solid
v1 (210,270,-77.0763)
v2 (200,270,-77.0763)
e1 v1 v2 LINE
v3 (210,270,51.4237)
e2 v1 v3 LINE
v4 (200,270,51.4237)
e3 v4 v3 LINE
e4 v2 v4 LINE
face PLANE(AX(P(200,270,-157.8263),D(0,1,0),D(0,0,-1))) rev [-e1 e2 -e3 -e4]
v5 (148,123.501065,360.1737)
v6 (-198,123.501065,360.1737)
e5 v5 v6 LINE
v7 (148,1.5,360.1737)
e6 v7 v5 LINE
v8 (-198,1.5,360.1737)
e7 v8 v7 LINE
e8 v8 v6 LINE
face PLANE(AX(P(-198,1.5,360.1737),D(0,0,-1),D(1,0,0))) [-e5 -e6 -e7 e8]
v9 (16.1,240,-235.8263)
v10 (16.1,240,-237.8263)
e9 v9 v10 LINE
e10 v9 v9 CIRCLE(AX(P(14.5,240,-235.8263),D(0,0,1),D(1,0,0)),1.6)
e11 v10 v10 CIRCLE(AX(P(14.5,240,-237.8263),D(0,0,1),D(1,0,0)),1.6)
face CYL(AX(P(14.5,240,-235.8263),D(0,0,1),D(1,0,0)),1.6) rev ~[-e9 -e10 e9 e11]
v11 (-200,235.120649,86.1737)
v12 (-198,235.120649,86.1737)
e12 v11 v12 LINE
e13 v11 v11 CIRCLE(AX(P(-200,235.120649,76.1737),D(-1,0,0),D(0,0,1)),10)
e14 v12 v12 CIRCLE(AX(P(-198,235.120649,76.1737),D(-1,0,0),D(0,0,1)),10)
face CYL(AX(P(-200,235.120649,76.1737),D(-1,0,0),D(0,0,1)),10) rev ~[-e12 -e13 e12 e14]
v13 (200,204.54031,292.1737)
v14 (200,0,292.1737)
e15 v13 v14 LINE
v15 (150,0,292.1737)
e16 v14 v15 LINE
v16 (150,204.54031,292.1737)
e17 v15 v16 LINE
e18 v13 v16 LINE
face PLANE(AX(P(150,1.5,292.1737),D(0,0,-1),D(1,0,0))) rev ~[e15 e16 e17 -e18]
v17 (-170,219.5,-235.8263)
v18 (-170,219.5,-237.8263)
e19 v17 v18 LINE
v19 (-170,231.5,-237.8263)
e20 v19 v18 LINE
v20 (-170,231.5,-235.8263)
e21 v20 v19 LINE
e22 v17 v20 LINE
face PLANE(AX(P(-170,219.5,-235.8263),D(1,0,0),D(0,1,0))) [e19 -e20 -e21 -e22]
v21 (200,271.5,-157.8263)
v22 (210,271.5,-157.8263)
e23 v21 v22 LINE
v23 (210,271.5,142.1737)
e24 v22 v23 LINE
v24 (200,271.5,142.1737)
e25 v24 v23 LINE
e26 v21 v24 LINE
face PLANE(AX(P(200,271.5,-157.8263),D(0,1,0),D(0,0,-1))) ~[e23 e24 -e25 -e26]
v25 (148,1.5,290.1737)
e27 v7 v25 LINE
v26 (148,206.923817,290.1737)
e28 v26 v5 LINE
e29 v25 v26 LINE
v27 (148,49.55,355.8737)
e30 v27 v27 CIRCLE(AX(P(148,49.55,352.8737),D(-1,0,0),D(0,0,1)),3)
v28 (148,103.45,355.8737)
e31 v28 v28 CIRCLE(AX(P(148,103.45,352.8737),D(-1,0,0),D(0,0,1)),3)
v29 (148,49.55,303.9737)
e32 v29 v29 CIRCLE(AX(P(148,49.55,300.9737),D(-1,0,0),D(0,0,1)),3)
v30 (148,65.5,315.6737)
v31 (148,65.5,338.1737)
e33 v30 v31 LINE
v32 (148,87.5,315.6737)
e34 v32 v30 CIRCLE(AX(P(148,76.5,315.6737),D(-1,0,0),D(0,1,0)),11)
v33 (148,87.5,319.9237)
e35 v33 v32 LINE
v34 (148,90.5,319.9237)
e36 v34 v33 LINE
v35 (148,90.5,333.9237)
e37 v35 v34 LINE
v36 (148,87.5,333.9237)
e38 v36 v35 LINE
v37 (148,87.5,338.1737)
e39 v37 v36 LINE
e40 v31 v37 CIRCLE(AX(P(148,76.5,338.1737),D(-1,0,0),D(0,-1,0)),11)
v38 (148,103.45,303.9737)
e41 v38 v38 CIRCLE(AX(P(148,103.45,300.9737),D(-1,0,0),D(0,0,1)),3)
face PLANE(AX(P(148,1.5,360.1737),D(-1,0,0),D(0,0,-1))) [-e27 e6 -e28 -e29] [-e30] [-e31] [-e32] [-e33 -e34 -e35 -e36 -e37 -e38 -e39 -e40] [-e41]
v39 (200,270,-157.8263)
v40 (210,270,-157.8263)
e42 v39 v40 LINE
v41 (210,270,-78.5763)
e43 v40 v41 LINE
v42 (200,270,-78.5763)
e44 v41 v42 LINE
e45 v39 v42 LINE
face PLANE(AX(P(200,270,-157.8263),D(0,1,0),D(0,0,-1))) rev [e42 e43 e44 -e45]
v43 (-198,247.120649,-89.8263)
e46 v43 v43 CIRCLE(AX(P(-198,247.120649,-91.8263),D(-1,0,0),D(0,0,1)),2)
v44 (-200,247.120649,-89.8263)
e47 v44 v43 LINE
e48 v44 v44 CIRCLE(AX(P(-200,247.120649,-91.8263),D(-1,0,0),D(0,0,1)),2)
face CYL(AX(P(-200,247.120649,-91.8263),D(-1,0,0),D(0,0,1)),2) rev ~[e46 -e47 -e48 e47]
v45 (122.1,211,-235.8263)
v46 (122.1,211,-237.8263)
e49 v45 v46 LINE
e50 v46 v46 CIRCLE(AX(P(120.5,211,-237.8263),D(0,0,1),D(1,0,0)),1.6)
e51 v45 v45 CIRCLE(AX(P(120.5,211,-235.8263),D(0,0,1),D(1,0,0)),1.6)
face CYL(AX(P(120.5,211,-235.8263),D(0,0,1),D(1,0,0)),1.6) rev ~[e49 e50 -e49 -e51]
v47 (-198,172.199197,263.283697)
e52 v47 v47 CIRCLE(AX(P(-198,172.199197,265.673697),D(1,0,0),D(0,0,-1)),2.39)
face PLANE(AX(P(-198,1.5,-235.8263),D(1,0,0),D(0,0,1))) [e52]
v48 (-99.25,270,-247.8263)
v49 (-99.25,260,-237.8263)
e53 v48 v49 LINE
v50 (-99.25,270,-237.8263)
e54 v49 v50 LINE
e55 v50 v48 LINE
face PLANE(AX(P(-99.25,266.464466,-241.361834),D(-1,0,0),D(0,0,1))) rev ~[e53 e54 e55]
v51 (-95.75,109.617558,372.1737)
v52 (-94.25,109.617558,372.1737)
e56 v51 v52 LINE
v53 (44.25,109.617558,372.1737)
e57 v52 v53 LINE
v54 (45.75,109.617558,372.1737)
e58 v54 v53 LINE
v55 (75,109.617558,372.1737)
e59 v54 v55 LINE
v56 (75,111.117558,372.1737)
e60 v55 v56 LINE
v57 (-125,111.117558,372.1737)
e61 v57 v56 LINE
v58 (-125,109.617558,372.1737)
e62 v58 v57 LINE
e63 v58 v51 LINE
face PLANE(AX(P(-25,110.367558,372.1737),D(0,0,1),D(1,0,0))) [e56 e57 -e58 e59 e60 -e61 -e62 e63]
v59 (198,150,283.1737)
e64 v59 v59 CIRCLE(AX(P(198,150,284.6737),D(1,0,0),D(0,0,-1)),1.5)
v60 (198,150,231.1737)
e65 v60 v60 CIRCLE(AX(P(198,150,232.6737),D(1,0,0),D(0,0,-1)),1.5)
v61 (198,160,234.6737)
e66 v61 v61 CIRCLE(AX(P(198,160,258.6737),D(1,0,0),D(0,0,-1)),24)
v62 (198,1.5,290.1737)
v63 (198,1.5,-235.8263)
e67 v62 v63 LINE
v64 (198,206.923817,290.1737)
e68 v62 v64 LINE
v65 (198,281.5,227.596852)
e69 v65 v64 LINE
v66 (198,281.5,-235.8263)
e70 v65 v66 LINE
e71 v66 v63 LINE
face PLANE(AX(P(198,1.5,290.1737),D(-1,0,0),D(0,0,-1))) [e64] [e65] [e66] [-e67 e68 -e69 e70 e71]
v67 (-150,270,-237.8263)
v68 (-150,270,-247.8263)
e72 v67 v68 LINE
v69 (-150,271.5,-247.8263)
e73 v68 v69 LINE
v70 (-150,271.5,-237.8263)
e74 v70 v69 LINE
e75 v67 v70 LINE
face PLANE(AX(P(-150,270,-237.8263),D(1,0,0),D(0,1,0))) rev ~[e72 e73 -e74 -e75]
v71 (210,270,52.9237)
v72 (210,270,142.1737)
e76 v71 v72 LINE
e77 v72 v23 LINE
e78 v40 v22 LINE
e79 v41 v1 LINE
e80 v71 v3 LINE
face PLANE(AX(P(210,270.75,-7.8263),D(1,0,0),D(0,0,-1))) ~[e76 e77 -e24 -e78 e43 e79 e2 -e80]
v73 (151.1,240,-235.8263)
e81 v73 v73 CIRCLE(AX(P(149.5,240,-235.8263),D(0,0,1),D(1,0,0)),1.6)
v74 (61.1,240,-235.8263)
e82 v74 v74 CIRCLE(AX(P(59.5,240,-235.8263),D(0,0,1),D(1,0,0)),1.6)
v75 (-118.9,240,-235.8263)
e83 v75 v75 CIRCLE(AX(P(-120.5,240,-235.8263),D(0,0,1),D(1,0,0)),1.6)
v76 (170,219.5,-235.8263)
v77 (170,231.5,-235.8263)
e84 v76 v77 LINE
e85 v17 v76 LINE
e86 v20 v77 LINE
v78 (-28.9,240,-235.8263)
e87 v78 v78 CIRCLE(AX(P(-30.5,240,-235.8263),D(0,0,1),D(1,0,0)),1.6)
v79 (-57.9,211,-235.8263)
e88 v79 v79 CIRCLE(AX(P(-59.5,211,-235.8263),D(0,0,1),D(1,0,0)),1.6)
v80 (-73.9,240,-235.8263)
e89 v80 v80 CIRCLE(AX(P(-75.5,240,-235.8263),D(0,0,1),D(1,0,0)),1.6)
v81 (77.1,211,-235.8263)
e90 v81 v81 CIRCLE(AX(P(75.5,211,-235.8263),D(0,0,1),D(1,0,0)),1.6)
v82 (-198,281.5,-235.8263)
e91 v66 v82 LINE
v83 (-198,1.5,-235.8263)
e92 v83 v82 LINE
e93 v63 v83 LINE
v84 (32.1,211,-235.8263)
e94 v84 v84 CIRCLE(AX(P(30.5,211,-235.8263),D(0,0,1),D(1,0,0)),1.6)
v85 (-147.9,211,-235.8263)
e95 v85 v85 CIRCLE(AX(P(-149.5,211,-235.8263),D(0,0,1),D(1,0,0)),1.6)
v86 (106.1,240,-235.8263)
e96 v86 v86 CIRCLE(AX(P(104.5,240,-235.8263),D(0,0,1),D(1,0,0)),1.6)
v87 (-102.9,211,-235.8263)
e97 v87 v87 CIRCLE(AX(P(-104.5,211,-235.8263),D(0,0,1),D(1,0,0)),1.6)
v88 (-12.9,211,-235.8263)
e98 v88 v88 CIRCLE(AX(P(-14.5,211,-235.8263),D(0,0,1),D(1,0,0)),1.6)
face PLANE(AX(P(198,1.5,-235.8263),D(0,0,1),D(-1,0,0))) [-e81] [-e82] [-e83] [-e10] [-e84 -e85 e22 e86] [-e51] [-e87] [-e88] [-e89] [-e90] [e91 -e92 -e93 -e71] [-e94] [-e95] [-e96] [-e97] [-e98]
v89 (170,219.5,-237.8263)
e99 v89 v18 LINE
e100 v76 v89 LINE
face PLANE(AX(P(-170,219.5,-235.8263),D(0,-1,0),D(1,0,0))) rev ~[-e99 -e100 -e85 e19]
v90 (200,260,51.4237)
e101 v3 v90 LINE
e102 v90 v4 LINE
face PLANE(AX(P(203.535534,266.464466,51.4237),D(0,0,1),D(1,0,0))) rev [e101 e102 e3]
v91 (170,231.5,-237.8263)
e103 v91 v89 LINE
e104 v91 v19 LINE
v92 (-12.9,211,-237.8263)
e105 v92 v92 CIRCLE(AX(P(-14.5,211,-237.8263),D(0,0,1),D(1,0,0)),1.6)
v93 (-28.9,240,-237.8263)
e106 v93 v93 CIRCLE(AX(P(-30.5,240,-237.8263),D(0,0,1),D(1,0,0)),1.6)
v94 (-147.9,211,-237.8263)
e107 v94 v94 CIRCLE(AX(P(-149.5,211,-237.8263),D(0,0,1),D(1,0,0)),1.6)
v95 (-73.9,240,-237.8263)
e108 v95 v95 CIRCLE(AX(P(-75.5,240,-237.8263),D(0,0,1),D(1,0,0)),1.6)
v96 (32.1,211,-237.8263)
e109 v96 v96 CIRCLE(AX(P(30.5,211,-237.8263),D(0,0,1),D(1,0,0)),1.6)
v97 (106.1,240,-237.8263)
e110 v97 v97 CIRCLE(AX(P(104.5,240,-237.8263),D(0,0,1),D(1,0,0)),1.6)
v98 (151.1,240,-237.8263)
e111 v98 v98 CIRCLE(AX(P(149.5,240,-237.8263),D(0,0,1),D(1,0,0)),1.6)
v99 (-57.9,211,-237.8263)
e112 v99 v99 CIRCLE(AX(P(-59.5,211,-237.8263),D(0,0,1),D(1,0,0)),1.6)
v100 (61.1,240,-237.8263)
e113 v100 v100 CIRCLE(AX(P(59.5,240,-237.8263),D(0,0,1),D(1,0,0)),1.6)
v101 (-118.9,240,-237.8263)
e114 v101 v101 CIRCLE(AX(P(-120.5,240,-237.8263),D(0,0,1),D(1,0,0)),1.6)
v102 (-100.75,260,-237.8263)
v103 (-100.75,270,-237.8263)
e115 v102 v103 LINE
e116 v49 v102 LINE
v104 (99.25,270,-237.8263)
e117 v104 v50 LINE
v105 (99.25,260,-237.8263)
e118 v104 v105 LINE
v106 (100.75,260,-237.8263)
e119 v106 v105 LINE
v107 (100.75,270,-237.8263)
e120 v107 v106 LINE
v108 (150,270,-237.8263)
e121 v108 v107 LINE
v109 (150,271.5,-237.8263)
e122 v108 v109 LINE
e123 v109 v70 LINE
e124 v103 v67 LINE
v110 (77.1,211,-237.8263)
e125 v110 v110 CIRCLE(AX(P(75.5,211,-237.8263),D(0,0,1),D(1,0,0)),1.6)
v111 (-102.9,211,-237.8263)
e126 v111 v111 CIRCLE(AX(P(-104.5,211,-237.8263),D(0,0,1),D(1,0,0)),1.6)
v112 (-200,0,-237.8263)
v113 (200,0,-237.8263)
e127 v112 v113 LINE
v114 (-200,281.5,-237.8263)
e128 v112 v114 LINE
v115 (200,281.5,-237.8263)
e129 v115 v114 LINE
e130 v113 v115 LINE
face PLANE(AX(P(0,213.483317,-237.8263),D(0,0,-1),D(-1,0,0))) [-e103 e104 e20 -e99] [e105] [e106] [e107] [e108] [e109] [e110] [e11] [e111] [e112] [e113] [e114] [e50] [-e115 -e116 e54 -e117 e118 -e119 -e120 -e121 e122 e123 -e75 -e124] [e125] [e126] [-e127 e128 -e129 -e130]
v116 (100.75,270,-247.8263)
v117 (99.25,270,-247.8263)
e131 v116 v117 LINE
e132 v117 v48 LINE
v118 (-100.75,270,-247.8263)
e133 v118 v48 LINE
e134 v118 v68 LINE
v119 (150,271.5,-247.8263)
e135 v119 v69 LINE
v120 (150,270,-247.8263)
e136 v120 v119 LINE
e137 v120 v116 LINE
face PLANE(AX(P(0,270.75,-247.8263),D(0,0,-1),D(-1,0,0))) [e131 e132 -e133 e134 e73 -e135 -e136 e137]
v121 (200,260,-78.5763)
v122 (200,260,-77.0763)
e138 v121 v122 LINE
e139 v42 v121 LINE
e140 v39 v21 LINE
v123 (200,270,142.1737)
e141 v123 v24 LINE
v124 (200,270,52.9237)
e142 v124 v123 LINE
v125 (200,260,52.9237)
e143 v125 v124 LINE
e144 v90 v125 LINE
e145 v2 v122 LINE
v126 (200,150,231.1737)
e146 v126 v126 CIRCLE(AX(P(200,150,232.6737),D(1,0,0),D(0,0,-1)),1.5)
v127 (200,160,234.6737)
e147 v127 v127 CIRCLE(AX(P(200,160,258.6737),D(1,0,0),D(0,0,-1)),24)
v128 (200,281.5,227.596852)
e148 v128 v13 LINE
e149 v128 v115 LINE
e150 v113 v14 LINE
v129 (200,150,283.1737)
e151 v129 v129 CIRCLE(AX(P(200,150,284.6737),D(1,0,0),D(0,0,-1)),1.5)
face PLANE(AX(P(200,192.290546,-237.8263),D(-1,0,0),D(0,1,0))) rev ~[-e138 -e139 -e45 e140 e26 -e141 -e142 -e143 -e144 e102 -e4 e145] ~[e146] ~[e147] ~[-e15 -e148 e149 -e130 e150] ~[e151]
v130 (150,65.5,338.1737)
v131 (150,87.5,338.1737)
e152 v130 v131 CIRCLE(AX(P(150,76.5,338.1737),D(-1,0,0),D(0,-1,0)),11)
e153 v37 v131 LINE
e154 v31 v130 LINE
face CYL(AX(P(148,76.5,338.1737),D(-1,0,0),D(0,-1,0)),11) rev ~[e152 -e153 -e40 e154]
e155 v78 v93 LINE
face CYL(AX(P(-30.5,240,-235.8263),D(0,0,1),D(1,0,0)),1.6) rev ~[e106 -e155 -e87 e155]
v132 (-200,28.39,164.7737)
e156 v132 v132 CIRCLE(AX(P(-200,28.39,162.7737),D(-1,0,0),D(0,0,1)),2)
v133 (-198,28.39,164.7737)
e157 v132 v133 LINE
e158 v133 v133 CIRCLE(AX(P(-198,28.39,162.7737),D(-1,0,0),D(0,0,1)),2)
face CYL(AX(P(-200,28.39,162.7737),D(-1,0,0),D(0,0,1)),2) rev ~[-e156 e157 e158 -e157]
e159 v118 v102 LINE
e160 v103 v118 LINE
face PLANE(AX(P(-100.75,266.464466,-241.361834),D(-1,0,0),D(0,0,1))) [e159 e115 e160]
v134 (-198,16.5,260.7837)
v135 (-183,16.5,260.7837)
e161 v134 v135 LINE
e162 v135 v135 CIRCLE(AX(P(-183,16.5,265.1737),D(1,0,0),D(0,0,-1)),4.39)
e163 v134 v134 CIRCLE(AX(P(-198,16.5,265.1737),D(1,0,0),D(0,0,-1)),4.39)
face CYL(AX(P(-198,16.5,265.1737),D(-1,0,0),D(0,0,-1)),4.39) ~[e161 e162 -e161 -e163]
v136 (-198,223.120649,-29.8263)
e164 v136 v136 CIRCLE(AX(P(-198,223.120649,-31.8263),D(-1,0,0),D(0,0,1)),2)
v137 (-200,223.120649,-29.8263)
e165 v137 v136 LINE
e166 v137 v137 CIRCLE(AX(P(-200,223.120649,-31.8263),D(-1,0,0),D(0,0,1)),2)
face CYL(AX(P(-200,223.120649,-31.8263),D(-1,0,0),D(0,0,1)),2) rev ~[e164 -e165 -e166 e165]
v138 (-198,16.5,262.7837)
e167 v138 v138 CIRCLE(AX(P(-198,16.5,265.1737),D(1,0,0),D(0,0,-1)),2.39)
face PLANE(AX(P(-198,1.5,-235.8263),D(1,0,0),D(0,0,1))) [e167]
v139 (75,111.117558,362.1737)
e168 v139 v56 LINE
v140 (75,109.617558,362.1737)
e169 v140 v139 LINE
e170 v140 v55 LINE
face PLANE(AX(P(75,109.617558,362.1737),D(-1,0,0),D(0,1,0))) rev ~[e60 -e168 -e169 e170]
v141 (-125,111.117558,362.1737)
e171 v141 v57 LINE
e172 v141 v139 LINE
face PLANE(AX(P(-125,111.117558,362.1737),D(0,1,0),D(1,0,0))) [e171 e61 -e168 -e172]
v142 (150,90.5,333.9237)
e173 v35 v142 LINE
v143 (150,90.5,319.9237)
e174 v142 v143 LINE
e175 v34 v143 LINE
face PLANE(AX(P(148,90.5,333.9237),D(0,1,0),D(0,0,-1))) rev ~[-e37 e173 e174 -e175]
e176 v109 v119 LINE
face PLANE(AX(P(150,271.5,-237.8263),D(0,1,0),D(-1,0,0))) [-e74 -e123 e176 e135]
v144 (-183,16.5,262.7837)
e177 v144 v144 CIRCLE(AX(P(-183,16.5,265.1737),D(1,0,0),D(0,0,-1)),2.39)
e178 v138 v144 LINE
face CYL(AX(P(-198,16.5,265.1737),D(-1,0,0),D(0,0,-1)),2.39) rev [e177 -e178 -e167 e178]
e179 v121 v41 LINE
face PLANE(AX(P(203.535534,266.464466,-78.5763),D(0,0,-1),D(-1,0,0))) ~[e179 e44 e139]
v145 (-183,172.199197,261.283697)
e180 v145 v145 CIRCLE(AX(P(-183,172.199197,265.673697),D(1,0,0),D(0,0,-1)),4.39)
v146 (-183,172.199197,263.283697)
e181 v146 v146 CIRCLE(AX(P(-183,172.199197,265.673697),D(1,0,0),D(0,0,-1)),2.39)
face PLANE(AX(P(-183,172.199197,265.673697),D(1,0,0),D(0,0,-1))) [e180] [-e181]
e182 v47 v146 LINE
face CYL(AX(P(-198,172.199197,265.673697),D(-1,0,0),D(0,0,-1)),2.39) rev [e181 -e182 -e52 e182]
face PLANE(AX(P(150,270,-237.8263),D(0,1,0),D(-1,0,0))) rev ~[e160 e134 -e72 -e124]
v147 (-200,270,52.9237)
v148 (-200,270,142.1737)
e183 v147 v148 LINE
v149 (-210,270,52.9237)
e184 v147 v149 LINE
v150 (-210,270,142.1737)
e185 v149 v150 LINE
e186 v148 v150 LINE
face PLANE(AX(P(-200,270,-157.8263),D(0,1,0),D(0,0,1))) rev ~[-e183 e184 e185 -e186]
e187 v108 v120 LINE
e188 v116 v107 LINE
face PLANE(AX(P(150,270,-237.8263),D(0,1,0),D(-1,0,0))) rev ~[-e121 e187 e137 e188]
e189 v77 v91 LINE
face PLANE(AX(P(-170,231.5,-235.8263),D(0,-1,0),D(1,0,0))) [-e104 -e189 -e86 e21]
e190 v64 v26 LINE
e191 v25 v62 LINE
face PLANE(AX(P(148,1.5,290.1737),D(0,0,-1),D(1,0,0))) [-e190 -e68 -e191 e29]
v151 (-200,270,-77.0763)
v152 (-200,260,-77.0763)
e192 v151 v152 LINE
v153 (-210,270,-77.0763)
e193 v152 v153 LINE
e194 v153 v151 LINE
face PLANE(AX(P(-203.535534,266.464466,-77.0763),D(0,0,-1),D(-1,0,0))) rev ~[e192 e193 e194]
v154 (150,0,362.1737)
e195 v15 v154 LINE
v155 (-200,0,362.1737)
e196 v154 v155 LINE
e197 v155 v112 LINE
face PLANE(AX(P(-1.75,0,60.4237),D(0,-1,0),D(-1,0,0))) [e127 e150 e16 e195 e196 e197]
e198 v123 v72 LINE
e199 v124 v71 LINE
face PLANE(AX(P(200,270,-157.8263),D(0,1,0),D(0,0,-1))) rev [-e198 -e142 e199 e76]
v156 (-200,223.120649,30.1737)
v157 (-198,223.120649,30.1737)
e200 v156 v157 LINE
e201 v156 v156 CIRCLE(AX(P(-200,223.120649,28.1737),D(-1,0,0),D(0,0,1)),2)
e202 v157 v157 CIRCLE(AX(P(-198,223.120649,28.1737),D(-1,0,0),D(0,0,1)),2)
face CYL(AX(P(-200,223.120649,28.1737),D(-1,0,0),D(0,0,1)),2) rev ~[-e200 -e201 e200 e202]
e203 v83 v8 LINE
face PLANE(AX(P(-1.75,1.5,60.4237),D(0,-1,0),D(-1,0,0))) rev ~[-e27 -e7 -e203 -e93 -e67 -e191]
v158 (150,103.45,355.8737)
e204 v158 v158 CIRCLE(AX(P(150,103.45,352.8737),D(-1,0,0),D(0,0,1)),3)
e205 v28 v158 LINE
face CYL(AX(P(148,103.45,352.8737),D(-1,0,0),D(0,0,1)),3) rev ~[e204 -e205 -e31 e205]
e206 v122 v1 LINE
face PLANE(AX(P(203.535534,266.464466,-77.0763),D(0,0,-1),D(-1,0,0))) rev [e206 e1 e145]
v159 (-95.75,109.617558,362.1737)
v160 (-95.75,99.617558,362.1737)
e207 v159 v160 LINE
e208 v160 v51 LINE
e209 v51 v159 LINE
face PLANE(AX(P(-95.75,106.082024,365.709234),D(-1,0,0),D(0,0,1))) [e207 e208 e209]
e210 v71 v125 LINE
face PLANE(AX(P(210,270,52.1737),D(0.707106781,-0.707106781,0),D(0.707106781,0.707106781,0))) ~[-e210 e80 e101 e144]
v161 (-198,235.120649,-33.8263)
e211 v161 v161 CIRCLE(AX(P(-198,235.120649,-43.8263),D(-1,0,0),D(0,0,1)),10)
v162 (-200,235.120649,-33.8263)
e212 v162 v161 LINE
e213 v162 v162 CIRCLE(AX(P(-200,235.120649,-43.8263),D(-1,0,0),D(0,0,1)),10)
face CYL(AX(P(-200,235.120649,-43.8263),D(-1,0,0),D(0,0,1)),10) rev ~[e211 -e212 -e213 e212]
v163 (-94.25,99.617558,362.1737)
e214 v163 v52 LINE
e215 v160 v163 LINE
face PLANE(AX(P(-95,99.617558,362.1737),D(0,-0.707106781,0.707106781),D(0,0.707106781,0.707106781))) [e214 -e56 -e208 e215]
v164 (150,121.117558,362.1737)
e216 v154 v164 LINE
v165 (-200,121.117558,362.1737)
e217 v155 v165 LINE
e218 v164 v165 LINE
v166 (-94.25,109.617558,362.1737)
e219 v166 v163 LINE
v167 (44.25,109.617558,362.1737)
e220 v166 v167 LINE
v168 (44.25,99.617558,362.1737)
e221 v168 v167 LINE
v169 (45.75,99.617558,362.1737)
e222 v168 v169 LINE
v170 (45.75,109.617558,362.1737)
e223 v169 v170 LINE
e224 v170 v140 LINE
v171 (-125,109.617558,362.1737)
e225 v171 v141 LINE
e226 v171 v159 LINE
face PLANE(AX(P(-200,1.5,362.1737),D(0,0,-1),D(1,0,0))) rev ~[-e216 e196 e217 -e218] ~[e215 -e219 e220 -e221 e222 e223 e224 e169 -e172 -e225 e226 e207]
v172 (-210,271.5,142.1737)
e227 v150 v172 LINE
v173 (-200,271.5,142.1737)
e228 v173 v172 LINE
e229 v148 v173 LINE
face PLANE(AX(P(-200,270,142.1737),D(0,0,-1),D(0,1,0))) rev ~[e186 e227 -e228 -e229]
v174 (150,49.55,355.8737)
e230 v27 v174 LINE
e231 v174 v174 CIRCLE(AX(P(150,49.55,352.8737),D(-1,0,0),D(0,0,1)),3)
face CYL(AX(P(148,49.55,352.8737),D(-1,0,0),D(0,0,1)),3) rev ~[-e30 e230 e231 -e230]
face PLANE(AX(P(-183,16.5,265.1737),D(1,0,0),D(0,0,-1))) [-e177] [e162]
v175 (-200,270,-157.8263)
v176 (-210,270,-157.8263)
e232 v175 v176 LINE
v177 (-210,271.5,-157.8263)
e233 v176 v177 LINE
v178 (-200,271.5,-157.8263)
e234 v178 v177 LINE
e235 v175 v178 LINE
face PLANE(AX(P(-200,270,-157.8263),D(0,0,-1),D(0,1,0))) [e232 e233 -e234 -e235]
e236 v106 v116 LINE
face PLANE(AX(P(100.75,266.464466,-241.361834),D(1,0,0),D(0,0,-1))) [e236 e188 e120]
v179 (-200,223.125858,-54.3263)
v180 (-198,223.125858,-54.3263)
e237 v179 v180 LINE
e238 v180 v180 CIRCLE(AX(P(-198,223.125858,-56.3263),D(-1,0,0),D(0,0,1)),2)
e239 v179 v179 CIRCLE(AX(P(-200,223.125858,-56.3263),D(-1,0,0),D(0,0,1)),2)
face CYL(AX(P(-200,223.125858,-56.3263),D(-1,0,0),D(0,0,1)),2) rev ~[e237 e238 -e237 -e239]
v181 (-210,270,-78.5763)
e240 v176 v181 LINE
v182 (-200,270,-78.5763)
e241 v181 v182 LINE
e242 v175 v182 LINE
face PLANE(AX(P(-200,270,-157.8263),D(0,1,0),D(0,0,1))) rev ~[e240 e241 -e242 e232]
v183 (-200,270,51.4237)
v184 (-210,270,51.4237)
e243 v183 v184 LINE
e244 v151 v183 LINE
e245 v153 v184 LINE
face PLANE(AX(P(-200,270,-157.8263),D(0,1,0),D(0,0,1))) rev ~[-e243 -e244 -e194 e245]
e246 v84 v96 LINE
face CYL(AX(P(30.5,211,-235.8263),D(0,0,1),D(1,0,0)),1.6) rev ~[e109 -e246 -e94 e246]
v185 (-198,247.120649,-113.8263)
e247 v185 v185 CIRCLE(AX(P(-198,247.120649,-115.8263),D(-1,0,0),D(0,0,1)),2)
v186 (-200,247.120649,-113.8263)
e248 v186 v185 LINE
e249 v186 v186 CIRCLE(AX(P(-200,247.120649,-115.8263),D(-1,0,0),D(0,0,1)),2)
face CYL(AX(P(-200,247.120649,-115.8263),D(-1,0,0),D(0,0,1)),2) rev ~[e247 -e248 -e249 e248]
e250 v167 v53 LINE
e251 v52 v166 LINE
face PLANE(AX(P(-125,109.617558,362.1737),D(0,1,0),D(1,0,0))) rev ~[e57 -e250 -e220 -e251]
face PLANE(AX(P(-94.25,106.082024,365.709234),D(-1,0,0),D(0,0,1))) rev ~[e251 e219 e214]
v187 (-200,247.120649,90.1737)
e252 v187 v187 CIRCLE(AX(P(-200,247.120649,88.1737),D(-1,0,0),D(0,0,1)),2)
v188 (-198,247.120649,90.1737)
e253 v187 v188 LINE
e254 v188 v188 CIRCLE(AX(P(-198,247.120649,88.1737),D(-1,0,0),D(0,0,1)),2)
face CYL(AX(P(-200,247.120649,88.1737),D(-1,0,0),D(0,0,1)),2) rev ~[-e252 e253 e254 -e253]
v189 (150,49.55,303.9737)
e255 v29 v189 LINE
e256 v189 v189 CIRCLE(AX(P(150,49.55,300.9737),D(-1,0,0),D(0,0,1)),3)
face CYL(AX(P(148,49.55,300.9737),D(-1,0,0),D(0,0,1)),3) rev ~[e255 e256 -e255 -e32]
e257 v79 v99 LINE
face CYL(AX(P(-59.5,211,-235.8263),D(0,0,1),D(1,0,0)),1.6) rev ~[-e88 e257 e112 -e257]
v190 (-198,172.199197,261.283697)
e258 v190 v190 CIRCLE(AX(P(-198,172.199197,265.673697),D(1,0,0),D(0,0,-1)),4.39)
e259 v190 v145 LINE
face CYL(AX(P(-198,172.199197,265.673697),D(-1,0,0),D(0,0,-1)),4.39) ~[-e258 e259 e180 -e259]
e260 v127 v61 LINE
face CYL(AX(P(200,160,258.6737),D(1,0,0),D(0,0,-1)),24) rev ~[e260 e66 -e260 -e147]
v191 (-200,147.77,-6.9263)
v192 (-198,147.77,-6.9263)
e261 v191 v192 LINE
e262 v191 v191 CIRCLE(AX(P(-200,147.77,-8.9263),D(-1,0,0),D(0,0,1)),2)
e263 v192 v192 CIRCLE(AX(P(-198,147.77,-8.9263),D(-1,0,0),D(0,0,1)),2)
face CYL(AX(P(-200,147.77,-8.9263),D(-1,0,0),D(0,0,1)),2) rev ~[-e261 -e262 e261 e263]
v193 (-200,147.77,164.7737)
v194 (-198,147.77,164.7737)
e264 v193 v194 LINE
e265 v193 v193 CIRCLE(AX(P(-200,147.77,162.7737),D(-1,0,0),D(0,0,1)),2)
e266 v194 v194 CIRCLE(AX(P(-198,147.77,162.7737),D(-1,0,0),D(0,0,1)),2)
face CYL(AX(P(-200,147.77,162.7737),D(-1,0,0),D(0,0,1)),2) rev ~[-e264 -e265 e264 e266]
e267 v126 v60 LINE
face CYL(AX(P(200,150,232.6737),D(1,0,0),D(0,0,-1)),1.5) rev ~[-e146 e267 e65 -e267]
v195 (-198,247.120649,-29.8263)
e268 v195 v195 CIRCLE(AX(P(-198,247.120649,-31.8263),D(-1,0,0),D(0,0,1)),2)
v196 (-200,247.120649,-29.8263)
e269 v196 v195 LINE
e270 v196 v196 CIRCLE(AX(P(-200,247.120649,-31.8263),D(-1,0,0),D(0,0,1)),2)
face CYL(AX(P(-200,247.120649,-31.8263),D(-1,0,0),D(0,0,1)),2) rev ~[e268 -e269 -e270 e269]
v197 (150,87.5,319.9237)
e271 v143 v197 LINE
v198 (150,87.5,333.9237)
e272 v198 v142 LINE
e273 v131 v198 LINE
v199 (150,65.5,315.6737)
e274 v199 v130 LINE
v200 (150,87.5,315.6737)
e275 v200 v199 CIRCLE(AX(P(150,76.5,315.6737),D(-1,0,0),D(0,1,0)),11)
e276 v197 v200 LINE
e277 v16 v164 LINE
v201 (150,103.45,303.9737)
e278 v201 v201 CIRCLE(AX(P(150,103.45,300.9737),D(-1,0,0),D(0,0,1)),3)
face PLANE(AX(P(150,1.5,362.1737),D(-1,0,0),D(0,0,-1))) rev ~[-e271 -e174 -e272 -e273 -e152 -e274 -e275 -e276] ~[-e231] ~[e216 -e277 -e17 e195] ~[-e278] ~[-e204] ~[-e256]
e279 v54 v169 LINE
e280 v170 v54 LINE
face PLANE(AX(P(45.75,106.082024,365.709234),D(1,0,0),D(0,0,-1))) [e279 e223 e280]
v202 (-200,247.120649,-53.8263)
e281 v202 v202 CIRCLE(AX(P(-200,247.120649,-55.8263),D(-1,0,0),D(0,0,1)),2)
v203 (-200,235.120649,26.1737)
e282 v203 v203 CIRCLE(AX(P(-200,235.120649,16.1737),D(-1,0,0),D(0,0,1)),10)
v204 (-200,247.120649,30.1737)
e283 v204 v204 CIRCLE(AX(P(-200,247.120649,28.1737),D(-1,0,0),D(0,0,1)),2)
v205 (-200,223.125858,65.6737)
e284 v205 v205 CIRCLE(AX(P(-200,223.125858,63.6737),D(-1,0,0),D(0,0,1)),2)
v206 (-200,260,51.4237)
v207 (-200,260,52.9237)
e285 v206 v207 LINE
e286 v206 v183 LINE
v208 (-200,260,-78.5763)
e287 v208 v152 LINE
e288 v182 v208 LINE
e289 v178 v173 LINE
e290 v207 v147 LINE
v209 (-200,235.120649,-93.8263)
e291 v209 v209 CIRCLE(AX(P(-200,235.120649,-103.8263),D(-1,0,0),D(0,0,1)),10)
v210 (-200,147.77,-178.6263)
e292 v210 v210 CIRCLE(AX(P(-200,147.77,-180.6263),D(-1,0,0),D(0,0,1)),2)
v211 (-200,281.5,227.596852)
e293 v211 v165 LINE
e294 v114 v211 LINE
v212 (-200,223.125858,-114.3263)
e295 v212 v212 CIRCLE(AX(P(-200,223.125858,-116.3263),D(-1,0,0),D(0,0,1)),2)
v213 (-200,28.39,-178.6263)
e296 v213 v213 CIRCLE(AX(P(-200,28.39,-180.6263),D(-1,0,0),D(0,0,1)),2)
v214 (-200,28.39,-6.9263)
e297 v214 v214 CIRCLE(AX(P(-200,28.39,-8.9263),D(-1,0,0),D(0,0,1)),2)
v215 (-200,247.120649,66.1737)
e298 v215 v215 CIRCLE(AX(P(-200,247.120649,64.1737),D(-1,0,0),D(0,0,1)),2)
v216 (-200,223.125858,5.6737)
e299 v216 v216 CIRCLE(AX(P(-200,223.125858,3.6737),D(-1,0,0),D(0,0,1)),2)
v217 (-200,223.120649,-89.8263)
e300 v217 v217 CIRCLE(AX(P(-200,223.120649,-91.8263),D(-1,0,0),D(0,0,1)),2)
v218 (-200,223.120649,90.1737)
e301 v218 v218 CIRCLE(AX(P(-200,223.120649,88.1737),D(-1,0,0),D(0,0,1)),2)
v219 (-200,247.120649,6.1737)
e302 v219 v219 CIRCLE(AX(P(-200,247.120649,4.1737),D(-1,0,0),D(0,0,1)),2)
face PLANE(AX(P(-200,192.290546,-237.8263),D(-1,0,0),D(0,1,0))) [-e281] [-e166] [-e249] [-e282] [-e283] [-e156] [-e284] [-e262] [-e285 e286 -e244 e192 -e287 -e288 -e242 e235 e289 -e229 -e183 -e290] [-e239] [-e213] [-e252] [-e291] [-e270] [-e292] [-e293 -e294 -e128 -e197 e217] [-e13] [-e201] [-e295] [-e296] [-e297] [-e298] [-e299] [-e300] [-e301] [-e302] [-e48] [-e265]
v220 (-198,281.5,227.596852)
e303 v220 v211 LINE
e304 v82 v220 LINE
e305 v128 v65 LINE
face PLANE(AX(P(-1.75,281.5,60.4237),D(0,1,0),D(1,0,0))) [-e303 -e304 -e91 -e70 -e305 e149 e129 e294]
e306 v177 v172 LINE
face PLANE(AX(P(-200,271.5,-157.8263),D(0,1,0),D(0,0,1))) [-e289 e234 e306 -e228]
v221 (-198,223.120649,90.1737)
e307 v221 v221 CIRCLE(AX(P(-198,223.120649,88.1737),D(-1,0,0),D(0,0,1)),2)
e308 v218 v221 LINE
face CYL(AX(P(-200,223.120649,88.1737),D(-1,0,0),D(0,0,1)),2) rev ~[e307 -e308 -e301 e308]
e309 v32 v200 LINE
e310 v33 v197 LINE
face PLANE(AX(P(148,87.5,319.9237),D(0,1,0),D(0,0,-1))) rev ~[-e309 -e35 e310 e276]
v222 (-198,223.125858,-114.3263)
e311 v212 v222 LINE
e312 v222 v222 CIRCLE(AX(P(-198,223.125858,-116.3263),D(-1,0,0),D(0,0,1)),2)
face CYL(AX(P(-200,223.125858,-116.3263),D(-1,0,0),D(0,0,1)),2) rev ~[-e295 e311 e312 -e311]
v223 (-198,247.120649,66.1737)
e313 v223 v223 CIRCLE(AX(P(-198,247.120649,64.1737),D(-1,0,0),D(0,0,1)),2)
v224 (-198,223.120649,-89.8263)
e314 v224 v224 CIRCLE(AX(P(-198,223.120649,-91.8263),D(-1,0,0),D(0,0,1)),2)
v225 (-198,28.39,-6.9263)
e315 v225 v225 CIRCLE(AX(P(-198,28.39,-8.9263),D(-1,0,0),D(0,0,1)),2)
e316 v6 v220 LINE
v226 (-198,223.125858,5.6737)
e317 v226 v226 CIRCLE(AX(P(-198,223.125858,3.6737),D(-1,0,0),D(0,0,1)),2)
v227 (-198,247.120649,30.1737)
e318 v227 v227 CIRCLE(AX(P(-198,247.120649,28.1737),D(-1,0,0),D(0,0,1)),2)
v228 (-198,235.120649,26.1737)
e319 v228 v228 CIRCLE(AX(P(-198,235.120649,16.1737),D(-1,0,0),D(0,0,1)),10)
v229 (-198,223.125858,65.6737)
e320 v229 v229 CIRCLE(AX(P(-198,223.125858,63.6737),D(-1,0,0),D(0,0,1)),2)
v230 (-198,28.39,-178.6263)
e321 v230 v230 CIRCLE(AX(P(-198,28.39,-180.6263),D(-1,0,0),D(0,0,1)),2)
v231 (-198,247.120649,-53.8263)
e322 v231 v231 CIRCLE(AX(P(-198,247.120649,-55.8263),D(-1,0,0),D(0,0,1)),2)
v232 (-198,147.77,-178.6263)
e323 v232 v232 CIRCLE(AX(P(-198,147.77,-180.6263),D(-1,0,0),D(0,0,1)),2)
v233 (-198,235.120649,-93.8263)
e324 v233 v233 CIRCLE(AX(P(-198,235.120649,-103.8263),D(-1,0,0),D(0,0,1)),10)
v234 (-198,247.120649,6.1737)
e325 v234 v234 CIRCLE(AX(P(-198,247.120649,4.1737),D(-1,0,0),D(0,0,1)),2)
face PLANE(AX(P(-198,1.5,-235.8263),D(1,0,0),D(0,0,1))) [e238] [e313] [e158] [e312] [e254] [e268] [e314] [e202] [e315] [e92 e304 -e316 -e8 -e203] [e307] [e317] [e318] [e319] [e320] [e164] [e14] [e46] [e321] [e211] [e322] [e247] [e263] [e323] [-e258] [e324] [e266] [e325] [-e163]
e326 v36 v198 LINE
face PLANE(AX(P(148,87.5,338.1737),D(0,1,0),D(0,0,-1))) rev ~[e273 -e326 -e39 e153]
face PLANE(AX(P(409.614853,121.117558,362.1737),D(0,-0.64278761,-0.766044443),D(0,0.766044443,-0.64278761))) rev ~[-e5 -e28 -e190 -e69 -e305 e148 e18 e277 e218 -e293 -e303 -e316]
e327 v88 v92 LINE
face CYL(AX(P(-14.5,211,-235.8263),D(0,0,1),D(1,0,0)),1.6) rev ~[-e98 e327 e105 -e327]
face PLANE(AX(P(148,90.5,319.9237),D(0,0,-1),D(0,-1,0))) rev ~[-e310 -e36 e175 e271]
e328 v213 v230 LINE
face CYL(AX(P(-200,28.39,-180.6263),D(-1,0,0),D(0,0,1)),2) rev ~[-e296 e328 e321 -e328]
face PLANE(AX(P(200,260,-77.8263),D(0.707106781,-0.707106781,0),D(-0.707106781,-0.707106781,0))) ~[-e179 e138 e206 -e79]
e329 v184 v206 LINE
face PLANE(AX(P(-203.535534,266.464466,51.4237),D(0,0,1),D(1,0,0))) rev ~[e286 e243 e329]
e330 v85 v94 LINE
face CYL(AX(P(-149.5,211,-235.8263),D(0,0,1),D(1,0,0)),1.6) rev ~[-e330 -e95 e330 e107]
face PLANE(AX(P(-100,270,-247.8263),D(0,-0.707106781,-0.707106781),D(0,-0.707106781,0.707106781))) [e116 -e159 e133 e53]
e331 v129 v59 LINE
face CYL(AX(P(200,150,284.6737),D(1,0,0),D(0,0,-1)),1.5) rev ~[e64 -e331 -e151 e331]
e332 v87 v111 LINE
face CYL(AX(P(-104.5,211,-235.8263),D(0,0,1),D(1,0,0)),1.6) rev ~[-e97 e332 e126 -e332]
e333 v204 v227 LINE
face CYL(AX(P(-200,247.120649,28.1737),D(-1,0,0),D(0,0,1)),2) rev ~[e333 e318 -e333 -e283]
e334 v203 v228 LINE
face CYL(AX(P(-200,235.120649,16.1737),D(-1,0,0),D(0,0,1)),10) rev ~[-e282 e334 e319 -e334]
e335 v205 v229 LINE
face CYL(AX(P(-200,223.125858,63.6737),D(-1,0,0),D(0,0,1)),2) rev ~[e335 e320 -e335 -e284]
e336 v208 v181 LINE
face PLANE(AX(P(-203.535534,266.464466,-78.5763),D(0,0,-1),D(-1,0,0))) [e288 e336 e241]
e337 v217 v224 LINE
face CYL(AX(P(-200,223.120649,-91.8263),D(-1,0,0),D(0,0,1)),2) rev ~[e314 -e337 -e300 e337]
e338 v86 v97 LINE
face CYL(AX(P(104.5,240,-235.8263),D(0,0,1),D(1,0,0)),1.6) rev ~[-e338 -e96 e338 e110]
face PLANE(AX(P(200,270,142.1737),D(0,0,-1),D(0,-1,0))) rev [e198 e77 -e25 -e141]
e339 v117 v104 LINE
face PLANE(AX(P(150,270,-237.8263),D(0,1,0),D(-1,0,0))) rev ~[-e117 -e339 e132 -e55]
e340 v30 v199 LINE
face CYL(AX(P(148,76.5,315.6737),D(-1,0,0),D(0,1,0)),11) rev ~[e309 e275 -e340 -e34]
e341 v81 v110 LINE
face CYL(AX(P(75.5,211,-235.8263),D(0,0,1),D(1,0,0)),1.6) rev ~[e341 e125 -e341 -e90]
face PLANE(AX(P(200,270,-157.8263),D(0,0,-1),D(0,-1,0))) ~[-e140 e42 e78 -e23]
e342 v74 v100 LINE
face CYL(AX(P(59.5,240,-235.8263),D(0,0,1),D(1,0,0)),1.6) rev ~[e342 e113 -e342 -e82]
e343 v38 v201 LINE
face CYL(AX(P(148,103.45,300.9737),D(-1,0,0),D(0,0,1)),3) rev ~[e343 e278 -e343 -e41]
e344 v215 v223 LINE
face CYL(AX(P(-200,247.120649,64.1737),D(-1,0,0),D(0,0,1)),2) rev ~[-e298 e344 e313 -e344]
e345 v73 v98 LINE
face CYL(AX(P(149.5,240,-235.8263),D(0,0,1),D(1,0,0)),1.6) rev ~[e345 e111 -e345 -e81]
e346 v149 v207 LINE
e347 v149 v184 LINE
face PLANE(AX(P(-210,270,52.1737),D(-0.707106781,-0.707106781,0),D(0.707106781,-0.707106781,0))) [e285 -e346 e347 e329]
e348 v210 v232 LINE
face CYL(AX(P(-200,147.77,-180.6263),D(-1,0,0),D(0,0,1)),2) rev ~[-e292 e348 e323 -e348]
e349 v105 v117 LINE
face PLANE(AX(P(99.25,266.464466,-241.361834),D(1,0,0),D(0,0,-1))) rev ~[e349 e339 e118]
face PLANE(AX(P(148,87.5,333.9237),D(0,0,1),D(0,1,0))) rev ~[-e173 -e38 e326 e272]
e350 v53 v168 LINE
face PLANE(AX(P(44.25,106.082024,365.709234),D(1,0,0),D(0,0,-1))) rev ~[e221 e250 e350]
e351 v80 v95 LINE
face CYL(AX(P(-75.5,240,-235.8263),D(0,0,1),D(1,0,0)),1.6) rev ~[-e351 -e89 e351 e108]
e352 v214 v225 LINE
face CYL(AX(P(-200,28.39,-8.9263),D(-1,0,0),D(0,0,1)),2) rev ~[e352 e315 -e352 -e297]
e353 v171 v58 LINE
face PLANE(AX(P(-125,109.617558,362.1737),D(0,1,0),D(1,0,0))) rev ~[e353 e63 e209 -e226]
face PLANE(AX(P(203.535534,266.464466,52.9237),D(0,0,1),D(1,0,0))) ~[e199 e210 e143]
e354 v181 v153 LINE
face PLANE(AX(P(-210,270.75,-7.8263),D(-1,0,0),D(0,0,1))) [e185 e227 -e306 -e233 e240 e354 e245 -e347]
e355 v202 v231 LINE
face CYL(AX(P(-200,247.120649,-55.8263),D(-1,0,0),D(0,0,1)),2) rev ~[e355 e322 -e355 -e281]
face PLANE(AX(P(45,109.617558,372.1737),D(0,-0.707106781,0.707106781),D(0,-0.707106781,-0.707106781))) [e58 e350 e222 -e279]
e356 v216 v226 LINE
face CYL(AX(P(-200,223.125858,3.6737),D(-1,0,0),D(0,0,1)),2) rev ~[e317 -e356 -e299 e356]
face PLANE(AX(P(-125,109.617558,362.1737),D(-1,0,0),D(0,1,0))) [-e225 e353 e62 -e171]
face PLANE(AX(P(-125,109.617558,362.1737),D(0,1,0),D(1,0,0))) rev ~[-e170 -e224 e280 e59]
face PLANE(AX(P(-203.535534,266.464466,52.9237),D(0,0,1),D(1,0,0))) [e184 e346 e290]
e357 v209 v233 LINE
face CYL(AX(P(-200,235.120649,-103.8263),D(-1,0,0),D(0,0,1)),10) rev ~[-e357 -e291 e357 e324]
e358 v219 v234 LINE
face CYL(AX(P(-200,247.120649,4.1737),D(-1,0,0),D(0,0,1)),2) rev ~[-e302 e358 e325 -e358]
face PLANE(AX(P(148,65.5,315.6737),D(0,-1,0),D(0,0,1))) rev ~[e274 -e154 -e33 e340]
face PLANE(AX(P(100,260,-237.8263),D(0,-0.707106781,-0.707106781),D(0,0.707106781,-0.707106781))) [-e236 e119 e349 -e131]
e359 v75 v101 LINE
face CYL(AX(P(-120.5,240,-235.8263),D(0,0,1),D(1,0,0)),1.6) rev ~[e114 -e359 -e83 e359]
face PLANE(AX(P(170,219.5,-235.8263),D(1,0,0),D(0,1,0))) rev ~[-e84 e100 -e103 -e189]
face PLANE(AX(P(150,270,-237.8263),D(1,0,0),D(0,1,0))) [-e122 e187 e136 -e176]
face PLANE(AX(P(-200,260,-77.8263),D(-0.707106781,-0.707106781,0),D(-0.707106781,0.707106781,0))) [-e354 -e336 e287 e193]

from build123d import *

# Parameters (mm, degrees)
BOSS_EXTRUDE1_DEPTH     = 1.5
BOSS_EXTRUDE2_DEPTH     = 280
SKETCH4_W               = 400
SKETCH4_H               = 42.385541564
BOSS_EXTRUDE3_DEPTH     = 2
CUT_EXTRUDE1_DEPTH      = 609.61485268
CUT_EXTRUDE1_DEPTH_BACK = 609.61485268
SKETCH8_R               = 4.39
SKETCH8_R_2             = 2.39
BOSS_EXTRUDE5_DEPTH     = 15
SKETCH10_R              = 3
CUT_EXTRUDE2_DEPTH      = 2
SKETCH5_R               = 2
SKETCH5_R_2             = 10
CUT_EXTRUDE7_DEPTH      = 2
SKETCH21_W              = 300
SKETCH21_H              = 1.5
BOSS_EXTRUDE9_DEPTH     = 10
SKETCH22_W              = 300
SKETCH22_H              = 1.5
BOSS_EXTRUDE10_DEPTH    = 10
BOSS_EXTRUDE11_DEPTH    = 0.75
BOSS_EXTRUDE12_DEPTH    = 0.75
BOSS_EXTRUDE13_DEPTH    = 0.75
BOSS_EXTRUDE14_DEPTH    = 0.75
SKETCH27_W              = 200
SKETCH27_H              = 1.5
BOSS_EXTRUDE15_DEPTH    = 10
BOSS_EXTRUDE16_DEPTH    = 0.75
BOSS_EXTRUDE17_DEPTH    = 0.75
SKETCH30_R              = 24
SKETCH30_R_2            = 1.5
CUT_EXTRUDE8_DEPTH      = 2
SKETCH33_R              = 2
CUT_EXTRUDE9_DEPTH      = 2
SKETCH42_W              = 340
SKETCH42_H              = 12
SKETCH42_R              = 1.6
CUT_EXTRUDE13_DEPTH     = 40


with BuildPart() as part:
    # Sketch1 → Boss-Extrude1 (new body)
    with BuildSketch(Plane(origin=(0, 0, 0), x_dir=(1, 0, 0), z_dir=(0, 1, 0))):
        Polygon((-200, 237.826300096), (200, 237.826300096), (200, -292.173699904), (150, -292.173699904), (150, -362.173699904), (-200, -362.173699904), align=None)
    extrude(amount=BOSS_EXTRUDE1_DEPTH)

    # Sketch2 → Boss-Extrude2 (add)
    with BuildSketch(Plane(origin=(0, 1.5, 0), x_dir=(1, 0, 0), z_dir=(0, 1, 0))):
        Polygon((-200, 237.826300096), (-200, -362.173699904), (150, -362.173699904), (150, -292.173699904), (200, -292.173699904), (200, 237.826300096), align=None)
        Polygon((-198, 235.826300096), (-198, -360.173699904), (148, -360.173699904), (148, -290.173699904), (198, -290.173699904), (198, 235.826300096), align=None, mode=Mode.SUBTRACT)
    extrude(amount=BOSS_EXTRUDE2_DEPTH)

    # Sketch4 → Boss-Extrude3 (add)
    with BuildSketch(Plane(origin=(0, 0, -237.826300096), x_dir=(-1, 0, 0), z_dir=(0, 0, -1))):
        with Locations((0, 213.483316708)):
            Rectangle(SKETCH4_W, SKETCH4_H)
    extrude(amount=-BOSS_EXTRUDE3_DEPTH)

    # Sketch3 → Cut-Extrude1 (cut, two sides: drawn at the far end of the back side and taken through both)
    with BuildSketch(Plane.ZY.offset(200).offset(-CUT_EXTRUDE1_DEPTH_BACK)):
        Polygon((362.173699904, 121.117558148), (227.596852099, 281.5), (362.173699904, 281.5), align=None)
    extrude(amount=CUT_EXTRUDE1_DEPTH + CUT_EXTRUDE1_DEPTH_BACK, mode=Mode.SUBTRACT)

    # Sketch8 → Boss-Extrude5 (add)
    # profile 1 of 2: a face of its own
    with BuildSketch(Plane(origin=(-198, 0, 0), x_dir=(0, 0, -1), z_dir=(1, 0, 0))):
        with Locations((-265.673697326, 172.19919718)):
            Circle(SKETCH8_R)
        with Locations((-265.673697326, 172.19919718)):
            Circle(SKETCH8_R_2, mode=Mode.SUBTRACT)
    # profile 2 of 2: a face of its own
    with BuildSketch(Plane(origin=(-198, 0, 0), x_dir=(0, 0, -1), z_dir=(1, 0, 0))):
        with Locations((-265.173699904, 16.5)):
            Circle(SKETCH8_R)
        with Locations((-265.173699904, 16.5)):
            Circle(SKETCH8_R_2, mode=Mode.SUBTRACT)
    extrude(amount=BOSS_EXTRUDE5_DEPTH)

    # Sketch10 → Cut-Extrude2 (cut)
    with BuildSketch(Plane.ZY.offset(-148)):
        with BuildLine():
            Line((333.923699904, 90.5), (319.923699904, 90.5))
            Line((319.923699904, 90.5), (319.923699904, 87.5))
            Line((319.923699904, 87.5), (315.673699904, 87.5))
            ThreePointArc((315.673699904, 87.5), (304.673699904, 76.5), (315.673699904, 65.5))
            Line((315.673699904, 65.5), (338.173699904, 65.5))
            ThreePointArc((338.173699904, 65.5), (349.173699904, 76.5), (338.173699904, 87.5))
            Line((338.173699904, 87.5), (333.923699904, 87.5))
            Line((333.923699904, 87.5), (333.923699904, 90.5))
        make_face()
        with Locations((300.973699904, 103.45)):
            Circle(SKETCH10_R)
        with Locations((352.873699904, 103.45)):
            Circle(SKETCH10_R)
        with Locations((300.973699904, 49.55)):
            Circle(SKETCH10_R)
        with Locations((352.873699904, 49.55)):
            Circle(SKETCH10_R)
    extrude(amount=-CUT_EXTRUDE2_DEPTH, mode=Mode.SUBTRACT)

    # Sketch5 → Cut-Extrude7 (cut)
    with BuildSketch(Plane.ZY.offset(200)):
        with Locations((-115.826300096, 247.120648807)):
            Circle(SKETCH5_R)
        with Locations((-116.326300096, 223.125857706)):
            Circle(SKETCH5_R)
        with Locations((-91.826300096, 223.120648807)):
            Circle(SKETCH5_R)
        with Locations((-91.826300096, 247.120648807)):
            Circle(SKETCH5_R)
        with Locations((-103.826300096, 235.120648807)):
            Circle(SKETCH5_R_2)
        with Locations((-55.826300096, 247.120648807)):
            Circle(SKETCH5_R)
        with Locations((-56.326300096, 223.125857706)):
            Circle(SKETCH5_R)
        with Locations((-31.826300096, 223.120648807)):
            Circle(SKETCH5_R)
        with Locations((-31.826300096, 247.120648807)):
            Circle(SKETCH5_R)
        with Locations((-43.826300096, 235.120648807)):
            Circle(SKETCH5_R_2)
        with Locations((4.173699904, 247.120648807)):
            Circle(SKETCH5_R)
        with Locations((3.673699904, 223.125857706)):
            Circle(SKETCH5_R)
        with Locations((28.173699904, 223.120648807)):
            Circle(SKETCH5_R)
        with Locations((28.173699904, 247.120648807)):
            Circle(SKETCH5_R)
        with Locations((16.173699904, 235.120648807)):
            Circle(SKETCH5_R_2)
        with Locations((64.173699904, 247.120648807)):
            Circle(SKETCH5_R)
        with Locations((63.673699904, 223.125857706)):
            Circle(SKETCH5_R)
        with Locations((88.173699904, 223.120648807)):
            Circle(SKETCH5_R)
        with Locations((88.173699904, 247.120648807)):
            Circle(SKETCH5_R)
        with Locations((76.173699904, 235.120648807)):
            Circle(SKETCH5_R_2)
    extrude(amount=-CUT_EXTRUDE7_DEPTH, mode=Mode.SUBTRACT)

    # Sketch21 → Boss-Extrude9 (add)
    with BuildSketch(Plane(origin=(0, 0, -237.826300096), x_dir=(-1, 0, 0), z_dir=(0, 0, -1))):
        with Locations((0, 270.75)):
            Rectangle(SKETCH21_W, SKETCH21_H)
    extrude(amount=BOSS_EXTRUDE9_DEPTH)

    # Sketch22 → Boss-Extrude10 (add)
    with BuildSketch(Plane.ZY.offset(200)):
        with Locations((-7.826300096, 270.75)):
            Rectangle(SKETCH22_W, SKETCH22_H)
    boss_extrude10 = extrude(amount=BOSS_EXTRUDE10_DEPTH)

    # Sketch23 → Boss-Extrude11 (add, symmetric)
    with BuildSketch(Plane(origin=(0, 0, -77.826300096), x_dir=(-1, 0, 0), z_dir=(0, 0, -1))):
        Polygon((210, 270), (200, 270), (200, 260), align=None)
    boss_extrude11 = extrude(amount=BOSS_EXTRUDE11_DEPTH, both=True)

    # Sketch24 → Boss-Extrude12 (add, symmetric)
    with BuildSketch(Plane.XY.offset(52.173699904)):
        Polygon((-210, 270), (-200, 260), (-200, 270), align=None)
    boss_extrude12 = extrude(amount=BOSS_EXTRUDE12_DEPTH, both=True)

    # Sketch25 → Boss-Extrude13 (add, symmetric)
    with BuildSketch(Plane(origin=(100, 0, 0), x_dir=(0, 0, -1), z_dir=(1, 0, 0))):
        Polygon((247.826300096, 270), (237.826300096, 270), (237.826300096, 260), align=None)
    extrude(amount=BOSS_EXTRUDE13_DEPTH, both=True)

    # Sketch26 → Boss-Extrude14 (add, symmetric)
    with BuildSketch(Plane.ZY.offset(100)):
        Polygon((-247.826300096, 270), (-237.826300096, 260), (-237.826300096, 270), align=None)
    extrude(amount=BOSS_EXTRUDE14_DEPTH, both=True)

    # Mirror1: Boss-Extrude10, Boss-Extrude11, Boss-Extrude12 across plane
    add(boss_extrude10.mirror(Plane(origin=(0, 0, 0), x_dir=(0, 0, 1), z_dir=(1, 0, 0))))
    add(boss_extrude11.mirror(Plane(origin=(0, 0, 0), x_dir=(0, 0, 1), z_dir=(1, 0, 0))))
    add(boss_extrude12.mirror(Plane(origin=(0, 0, 0), x_dir=(0, 0, 1), z_dir=(1, 0, 0))))

    # Sketch27 → Boss-Extrude15 (add)
    with BuildSketch(Plane.XY.offset(362.173699904)):
        with Locations((-25, 110.367558148)):
            Rectangle(SKETCH27_W, SKETCH27_H)
    extrude(amount=BOSS_EXTRUDE15_DEPTH)

    # Sketch28 → Boss-Extrude16 (add, symmetric)
    with BuildSketch(Plane.ZY.offset(95)):
        Polygon((372.173699904, 109.617558148), (362.173699904, 109.617558148), (362.173699904, 99.617558148), align=None)
    extrude(amount=BOSS_EXTRUDE16_DEPTH, both=True)

    # Sketch29 → Boss-Extrude17 (add, symmetric)
    with BuildSketch(Plane(origin=(45, 0, 0), x_dir=(0, 0, -1), z_dir=(1, 0, 0))):
        Polygon((-372.173699904, 109.617558148), (-362.173699904, 99.617558148), (-362.173699904, 109.617558148), align=None)
    extrude(amount=BOSS_EXTRUDE17_DEPTH, both=True)

    # Sketch30 → Cut-Extrude8 (cut)
    with BuildSketch(Plane(origin=(200, 0, 0), x_dir=(0, 0, -1), z_dir=(1, 0, 0))):
        with Locations((-258.673699904, 160)):
            Circle(SKETCH30_R)
        with Locations((-284.673699904, 150)):
            Circle(SKETCH30_R_2)
        with Locations((-232.673699904, 150)):
            Circle(SKETCH30_R_2)
    extrude(amount=-CUT_EXTRUDE8_DEPTH, mode=Mode.SUBTRACT)

    # Sketch33 → Cut-Extrude9 (cut)
    with BuildSketch(Plane.ZY.offset(200)):
        with Locations((-180.626300096, 147.77)):
            Circle(SKETCH33_R)
        with Locations((-180.626300096, 28.39)):
            Circle(SKETCH33_R)
        with Locations((-8.926300096, 147.77)):
            Circle(SKETCH33_R)
        with Locations((-8.926300096, 28.39)):
            Circle(SKETCH33_R)
        with Locations((162.773699904, 147.77)):
            Circle(SKETCH33_R)
        with Locations((162.773699904, 28.39)):
            Circle(SKETCH33_R)
    extrude(amount=-CUT_EXTRUDE9_DEPTH, mode=Mode.SUBTRACT)

    # Sketch42 → Cut-Extrude13 (cut)
    with BuildSketch(Plane.XY.offset(-235.826300096)):
        with Locations((0, 225.5)):
            Rectangle(SKETCH42_W, SKETCH42_H)
        with Locations((-120.5, 240)):
            Circle(SKETCH42_R)
        with Locations((-149.5, 211)):
            Circle(SKETCH42_R)
        with Locations((-75.5, 240)):
            Circle(SKETCH42_R)
        with Locations((-104.5, 211)):
            Circle(SKETCH42_R)
        with Locations((-30.5, 240)):
            Circle(SKETCH42_R)
        with Locations((-59.5, 211)):
            Circle(SKETCH42_R)
        with Locations((14.5, 240)):
            Circle(SKETCH42_R)
        with Locations((-14.5, 211)):
            Circle(SKETCH42_R)
        with Locations((59.5, 240)):
            Circle(SKETCH42_R)
        with Locations((30.5, 211)):
            Circle(SKETCH42_R)
        with Locations((104.5, 240)):
            Circle(SKETCH42_R)
        with Locations((75.5, 211)):
            Circle(SKETCH42_R)
        with Locations((149.5, 240)):
            Circle(SKETCH42_R)
        with Locations((120.5, 211)):
            Circle(SKETCH42_R)
    extrude(amount=-CUT_EXTRUDE13_DEPTH, mode=Mode.SUBTRACT)


solid = part.part
